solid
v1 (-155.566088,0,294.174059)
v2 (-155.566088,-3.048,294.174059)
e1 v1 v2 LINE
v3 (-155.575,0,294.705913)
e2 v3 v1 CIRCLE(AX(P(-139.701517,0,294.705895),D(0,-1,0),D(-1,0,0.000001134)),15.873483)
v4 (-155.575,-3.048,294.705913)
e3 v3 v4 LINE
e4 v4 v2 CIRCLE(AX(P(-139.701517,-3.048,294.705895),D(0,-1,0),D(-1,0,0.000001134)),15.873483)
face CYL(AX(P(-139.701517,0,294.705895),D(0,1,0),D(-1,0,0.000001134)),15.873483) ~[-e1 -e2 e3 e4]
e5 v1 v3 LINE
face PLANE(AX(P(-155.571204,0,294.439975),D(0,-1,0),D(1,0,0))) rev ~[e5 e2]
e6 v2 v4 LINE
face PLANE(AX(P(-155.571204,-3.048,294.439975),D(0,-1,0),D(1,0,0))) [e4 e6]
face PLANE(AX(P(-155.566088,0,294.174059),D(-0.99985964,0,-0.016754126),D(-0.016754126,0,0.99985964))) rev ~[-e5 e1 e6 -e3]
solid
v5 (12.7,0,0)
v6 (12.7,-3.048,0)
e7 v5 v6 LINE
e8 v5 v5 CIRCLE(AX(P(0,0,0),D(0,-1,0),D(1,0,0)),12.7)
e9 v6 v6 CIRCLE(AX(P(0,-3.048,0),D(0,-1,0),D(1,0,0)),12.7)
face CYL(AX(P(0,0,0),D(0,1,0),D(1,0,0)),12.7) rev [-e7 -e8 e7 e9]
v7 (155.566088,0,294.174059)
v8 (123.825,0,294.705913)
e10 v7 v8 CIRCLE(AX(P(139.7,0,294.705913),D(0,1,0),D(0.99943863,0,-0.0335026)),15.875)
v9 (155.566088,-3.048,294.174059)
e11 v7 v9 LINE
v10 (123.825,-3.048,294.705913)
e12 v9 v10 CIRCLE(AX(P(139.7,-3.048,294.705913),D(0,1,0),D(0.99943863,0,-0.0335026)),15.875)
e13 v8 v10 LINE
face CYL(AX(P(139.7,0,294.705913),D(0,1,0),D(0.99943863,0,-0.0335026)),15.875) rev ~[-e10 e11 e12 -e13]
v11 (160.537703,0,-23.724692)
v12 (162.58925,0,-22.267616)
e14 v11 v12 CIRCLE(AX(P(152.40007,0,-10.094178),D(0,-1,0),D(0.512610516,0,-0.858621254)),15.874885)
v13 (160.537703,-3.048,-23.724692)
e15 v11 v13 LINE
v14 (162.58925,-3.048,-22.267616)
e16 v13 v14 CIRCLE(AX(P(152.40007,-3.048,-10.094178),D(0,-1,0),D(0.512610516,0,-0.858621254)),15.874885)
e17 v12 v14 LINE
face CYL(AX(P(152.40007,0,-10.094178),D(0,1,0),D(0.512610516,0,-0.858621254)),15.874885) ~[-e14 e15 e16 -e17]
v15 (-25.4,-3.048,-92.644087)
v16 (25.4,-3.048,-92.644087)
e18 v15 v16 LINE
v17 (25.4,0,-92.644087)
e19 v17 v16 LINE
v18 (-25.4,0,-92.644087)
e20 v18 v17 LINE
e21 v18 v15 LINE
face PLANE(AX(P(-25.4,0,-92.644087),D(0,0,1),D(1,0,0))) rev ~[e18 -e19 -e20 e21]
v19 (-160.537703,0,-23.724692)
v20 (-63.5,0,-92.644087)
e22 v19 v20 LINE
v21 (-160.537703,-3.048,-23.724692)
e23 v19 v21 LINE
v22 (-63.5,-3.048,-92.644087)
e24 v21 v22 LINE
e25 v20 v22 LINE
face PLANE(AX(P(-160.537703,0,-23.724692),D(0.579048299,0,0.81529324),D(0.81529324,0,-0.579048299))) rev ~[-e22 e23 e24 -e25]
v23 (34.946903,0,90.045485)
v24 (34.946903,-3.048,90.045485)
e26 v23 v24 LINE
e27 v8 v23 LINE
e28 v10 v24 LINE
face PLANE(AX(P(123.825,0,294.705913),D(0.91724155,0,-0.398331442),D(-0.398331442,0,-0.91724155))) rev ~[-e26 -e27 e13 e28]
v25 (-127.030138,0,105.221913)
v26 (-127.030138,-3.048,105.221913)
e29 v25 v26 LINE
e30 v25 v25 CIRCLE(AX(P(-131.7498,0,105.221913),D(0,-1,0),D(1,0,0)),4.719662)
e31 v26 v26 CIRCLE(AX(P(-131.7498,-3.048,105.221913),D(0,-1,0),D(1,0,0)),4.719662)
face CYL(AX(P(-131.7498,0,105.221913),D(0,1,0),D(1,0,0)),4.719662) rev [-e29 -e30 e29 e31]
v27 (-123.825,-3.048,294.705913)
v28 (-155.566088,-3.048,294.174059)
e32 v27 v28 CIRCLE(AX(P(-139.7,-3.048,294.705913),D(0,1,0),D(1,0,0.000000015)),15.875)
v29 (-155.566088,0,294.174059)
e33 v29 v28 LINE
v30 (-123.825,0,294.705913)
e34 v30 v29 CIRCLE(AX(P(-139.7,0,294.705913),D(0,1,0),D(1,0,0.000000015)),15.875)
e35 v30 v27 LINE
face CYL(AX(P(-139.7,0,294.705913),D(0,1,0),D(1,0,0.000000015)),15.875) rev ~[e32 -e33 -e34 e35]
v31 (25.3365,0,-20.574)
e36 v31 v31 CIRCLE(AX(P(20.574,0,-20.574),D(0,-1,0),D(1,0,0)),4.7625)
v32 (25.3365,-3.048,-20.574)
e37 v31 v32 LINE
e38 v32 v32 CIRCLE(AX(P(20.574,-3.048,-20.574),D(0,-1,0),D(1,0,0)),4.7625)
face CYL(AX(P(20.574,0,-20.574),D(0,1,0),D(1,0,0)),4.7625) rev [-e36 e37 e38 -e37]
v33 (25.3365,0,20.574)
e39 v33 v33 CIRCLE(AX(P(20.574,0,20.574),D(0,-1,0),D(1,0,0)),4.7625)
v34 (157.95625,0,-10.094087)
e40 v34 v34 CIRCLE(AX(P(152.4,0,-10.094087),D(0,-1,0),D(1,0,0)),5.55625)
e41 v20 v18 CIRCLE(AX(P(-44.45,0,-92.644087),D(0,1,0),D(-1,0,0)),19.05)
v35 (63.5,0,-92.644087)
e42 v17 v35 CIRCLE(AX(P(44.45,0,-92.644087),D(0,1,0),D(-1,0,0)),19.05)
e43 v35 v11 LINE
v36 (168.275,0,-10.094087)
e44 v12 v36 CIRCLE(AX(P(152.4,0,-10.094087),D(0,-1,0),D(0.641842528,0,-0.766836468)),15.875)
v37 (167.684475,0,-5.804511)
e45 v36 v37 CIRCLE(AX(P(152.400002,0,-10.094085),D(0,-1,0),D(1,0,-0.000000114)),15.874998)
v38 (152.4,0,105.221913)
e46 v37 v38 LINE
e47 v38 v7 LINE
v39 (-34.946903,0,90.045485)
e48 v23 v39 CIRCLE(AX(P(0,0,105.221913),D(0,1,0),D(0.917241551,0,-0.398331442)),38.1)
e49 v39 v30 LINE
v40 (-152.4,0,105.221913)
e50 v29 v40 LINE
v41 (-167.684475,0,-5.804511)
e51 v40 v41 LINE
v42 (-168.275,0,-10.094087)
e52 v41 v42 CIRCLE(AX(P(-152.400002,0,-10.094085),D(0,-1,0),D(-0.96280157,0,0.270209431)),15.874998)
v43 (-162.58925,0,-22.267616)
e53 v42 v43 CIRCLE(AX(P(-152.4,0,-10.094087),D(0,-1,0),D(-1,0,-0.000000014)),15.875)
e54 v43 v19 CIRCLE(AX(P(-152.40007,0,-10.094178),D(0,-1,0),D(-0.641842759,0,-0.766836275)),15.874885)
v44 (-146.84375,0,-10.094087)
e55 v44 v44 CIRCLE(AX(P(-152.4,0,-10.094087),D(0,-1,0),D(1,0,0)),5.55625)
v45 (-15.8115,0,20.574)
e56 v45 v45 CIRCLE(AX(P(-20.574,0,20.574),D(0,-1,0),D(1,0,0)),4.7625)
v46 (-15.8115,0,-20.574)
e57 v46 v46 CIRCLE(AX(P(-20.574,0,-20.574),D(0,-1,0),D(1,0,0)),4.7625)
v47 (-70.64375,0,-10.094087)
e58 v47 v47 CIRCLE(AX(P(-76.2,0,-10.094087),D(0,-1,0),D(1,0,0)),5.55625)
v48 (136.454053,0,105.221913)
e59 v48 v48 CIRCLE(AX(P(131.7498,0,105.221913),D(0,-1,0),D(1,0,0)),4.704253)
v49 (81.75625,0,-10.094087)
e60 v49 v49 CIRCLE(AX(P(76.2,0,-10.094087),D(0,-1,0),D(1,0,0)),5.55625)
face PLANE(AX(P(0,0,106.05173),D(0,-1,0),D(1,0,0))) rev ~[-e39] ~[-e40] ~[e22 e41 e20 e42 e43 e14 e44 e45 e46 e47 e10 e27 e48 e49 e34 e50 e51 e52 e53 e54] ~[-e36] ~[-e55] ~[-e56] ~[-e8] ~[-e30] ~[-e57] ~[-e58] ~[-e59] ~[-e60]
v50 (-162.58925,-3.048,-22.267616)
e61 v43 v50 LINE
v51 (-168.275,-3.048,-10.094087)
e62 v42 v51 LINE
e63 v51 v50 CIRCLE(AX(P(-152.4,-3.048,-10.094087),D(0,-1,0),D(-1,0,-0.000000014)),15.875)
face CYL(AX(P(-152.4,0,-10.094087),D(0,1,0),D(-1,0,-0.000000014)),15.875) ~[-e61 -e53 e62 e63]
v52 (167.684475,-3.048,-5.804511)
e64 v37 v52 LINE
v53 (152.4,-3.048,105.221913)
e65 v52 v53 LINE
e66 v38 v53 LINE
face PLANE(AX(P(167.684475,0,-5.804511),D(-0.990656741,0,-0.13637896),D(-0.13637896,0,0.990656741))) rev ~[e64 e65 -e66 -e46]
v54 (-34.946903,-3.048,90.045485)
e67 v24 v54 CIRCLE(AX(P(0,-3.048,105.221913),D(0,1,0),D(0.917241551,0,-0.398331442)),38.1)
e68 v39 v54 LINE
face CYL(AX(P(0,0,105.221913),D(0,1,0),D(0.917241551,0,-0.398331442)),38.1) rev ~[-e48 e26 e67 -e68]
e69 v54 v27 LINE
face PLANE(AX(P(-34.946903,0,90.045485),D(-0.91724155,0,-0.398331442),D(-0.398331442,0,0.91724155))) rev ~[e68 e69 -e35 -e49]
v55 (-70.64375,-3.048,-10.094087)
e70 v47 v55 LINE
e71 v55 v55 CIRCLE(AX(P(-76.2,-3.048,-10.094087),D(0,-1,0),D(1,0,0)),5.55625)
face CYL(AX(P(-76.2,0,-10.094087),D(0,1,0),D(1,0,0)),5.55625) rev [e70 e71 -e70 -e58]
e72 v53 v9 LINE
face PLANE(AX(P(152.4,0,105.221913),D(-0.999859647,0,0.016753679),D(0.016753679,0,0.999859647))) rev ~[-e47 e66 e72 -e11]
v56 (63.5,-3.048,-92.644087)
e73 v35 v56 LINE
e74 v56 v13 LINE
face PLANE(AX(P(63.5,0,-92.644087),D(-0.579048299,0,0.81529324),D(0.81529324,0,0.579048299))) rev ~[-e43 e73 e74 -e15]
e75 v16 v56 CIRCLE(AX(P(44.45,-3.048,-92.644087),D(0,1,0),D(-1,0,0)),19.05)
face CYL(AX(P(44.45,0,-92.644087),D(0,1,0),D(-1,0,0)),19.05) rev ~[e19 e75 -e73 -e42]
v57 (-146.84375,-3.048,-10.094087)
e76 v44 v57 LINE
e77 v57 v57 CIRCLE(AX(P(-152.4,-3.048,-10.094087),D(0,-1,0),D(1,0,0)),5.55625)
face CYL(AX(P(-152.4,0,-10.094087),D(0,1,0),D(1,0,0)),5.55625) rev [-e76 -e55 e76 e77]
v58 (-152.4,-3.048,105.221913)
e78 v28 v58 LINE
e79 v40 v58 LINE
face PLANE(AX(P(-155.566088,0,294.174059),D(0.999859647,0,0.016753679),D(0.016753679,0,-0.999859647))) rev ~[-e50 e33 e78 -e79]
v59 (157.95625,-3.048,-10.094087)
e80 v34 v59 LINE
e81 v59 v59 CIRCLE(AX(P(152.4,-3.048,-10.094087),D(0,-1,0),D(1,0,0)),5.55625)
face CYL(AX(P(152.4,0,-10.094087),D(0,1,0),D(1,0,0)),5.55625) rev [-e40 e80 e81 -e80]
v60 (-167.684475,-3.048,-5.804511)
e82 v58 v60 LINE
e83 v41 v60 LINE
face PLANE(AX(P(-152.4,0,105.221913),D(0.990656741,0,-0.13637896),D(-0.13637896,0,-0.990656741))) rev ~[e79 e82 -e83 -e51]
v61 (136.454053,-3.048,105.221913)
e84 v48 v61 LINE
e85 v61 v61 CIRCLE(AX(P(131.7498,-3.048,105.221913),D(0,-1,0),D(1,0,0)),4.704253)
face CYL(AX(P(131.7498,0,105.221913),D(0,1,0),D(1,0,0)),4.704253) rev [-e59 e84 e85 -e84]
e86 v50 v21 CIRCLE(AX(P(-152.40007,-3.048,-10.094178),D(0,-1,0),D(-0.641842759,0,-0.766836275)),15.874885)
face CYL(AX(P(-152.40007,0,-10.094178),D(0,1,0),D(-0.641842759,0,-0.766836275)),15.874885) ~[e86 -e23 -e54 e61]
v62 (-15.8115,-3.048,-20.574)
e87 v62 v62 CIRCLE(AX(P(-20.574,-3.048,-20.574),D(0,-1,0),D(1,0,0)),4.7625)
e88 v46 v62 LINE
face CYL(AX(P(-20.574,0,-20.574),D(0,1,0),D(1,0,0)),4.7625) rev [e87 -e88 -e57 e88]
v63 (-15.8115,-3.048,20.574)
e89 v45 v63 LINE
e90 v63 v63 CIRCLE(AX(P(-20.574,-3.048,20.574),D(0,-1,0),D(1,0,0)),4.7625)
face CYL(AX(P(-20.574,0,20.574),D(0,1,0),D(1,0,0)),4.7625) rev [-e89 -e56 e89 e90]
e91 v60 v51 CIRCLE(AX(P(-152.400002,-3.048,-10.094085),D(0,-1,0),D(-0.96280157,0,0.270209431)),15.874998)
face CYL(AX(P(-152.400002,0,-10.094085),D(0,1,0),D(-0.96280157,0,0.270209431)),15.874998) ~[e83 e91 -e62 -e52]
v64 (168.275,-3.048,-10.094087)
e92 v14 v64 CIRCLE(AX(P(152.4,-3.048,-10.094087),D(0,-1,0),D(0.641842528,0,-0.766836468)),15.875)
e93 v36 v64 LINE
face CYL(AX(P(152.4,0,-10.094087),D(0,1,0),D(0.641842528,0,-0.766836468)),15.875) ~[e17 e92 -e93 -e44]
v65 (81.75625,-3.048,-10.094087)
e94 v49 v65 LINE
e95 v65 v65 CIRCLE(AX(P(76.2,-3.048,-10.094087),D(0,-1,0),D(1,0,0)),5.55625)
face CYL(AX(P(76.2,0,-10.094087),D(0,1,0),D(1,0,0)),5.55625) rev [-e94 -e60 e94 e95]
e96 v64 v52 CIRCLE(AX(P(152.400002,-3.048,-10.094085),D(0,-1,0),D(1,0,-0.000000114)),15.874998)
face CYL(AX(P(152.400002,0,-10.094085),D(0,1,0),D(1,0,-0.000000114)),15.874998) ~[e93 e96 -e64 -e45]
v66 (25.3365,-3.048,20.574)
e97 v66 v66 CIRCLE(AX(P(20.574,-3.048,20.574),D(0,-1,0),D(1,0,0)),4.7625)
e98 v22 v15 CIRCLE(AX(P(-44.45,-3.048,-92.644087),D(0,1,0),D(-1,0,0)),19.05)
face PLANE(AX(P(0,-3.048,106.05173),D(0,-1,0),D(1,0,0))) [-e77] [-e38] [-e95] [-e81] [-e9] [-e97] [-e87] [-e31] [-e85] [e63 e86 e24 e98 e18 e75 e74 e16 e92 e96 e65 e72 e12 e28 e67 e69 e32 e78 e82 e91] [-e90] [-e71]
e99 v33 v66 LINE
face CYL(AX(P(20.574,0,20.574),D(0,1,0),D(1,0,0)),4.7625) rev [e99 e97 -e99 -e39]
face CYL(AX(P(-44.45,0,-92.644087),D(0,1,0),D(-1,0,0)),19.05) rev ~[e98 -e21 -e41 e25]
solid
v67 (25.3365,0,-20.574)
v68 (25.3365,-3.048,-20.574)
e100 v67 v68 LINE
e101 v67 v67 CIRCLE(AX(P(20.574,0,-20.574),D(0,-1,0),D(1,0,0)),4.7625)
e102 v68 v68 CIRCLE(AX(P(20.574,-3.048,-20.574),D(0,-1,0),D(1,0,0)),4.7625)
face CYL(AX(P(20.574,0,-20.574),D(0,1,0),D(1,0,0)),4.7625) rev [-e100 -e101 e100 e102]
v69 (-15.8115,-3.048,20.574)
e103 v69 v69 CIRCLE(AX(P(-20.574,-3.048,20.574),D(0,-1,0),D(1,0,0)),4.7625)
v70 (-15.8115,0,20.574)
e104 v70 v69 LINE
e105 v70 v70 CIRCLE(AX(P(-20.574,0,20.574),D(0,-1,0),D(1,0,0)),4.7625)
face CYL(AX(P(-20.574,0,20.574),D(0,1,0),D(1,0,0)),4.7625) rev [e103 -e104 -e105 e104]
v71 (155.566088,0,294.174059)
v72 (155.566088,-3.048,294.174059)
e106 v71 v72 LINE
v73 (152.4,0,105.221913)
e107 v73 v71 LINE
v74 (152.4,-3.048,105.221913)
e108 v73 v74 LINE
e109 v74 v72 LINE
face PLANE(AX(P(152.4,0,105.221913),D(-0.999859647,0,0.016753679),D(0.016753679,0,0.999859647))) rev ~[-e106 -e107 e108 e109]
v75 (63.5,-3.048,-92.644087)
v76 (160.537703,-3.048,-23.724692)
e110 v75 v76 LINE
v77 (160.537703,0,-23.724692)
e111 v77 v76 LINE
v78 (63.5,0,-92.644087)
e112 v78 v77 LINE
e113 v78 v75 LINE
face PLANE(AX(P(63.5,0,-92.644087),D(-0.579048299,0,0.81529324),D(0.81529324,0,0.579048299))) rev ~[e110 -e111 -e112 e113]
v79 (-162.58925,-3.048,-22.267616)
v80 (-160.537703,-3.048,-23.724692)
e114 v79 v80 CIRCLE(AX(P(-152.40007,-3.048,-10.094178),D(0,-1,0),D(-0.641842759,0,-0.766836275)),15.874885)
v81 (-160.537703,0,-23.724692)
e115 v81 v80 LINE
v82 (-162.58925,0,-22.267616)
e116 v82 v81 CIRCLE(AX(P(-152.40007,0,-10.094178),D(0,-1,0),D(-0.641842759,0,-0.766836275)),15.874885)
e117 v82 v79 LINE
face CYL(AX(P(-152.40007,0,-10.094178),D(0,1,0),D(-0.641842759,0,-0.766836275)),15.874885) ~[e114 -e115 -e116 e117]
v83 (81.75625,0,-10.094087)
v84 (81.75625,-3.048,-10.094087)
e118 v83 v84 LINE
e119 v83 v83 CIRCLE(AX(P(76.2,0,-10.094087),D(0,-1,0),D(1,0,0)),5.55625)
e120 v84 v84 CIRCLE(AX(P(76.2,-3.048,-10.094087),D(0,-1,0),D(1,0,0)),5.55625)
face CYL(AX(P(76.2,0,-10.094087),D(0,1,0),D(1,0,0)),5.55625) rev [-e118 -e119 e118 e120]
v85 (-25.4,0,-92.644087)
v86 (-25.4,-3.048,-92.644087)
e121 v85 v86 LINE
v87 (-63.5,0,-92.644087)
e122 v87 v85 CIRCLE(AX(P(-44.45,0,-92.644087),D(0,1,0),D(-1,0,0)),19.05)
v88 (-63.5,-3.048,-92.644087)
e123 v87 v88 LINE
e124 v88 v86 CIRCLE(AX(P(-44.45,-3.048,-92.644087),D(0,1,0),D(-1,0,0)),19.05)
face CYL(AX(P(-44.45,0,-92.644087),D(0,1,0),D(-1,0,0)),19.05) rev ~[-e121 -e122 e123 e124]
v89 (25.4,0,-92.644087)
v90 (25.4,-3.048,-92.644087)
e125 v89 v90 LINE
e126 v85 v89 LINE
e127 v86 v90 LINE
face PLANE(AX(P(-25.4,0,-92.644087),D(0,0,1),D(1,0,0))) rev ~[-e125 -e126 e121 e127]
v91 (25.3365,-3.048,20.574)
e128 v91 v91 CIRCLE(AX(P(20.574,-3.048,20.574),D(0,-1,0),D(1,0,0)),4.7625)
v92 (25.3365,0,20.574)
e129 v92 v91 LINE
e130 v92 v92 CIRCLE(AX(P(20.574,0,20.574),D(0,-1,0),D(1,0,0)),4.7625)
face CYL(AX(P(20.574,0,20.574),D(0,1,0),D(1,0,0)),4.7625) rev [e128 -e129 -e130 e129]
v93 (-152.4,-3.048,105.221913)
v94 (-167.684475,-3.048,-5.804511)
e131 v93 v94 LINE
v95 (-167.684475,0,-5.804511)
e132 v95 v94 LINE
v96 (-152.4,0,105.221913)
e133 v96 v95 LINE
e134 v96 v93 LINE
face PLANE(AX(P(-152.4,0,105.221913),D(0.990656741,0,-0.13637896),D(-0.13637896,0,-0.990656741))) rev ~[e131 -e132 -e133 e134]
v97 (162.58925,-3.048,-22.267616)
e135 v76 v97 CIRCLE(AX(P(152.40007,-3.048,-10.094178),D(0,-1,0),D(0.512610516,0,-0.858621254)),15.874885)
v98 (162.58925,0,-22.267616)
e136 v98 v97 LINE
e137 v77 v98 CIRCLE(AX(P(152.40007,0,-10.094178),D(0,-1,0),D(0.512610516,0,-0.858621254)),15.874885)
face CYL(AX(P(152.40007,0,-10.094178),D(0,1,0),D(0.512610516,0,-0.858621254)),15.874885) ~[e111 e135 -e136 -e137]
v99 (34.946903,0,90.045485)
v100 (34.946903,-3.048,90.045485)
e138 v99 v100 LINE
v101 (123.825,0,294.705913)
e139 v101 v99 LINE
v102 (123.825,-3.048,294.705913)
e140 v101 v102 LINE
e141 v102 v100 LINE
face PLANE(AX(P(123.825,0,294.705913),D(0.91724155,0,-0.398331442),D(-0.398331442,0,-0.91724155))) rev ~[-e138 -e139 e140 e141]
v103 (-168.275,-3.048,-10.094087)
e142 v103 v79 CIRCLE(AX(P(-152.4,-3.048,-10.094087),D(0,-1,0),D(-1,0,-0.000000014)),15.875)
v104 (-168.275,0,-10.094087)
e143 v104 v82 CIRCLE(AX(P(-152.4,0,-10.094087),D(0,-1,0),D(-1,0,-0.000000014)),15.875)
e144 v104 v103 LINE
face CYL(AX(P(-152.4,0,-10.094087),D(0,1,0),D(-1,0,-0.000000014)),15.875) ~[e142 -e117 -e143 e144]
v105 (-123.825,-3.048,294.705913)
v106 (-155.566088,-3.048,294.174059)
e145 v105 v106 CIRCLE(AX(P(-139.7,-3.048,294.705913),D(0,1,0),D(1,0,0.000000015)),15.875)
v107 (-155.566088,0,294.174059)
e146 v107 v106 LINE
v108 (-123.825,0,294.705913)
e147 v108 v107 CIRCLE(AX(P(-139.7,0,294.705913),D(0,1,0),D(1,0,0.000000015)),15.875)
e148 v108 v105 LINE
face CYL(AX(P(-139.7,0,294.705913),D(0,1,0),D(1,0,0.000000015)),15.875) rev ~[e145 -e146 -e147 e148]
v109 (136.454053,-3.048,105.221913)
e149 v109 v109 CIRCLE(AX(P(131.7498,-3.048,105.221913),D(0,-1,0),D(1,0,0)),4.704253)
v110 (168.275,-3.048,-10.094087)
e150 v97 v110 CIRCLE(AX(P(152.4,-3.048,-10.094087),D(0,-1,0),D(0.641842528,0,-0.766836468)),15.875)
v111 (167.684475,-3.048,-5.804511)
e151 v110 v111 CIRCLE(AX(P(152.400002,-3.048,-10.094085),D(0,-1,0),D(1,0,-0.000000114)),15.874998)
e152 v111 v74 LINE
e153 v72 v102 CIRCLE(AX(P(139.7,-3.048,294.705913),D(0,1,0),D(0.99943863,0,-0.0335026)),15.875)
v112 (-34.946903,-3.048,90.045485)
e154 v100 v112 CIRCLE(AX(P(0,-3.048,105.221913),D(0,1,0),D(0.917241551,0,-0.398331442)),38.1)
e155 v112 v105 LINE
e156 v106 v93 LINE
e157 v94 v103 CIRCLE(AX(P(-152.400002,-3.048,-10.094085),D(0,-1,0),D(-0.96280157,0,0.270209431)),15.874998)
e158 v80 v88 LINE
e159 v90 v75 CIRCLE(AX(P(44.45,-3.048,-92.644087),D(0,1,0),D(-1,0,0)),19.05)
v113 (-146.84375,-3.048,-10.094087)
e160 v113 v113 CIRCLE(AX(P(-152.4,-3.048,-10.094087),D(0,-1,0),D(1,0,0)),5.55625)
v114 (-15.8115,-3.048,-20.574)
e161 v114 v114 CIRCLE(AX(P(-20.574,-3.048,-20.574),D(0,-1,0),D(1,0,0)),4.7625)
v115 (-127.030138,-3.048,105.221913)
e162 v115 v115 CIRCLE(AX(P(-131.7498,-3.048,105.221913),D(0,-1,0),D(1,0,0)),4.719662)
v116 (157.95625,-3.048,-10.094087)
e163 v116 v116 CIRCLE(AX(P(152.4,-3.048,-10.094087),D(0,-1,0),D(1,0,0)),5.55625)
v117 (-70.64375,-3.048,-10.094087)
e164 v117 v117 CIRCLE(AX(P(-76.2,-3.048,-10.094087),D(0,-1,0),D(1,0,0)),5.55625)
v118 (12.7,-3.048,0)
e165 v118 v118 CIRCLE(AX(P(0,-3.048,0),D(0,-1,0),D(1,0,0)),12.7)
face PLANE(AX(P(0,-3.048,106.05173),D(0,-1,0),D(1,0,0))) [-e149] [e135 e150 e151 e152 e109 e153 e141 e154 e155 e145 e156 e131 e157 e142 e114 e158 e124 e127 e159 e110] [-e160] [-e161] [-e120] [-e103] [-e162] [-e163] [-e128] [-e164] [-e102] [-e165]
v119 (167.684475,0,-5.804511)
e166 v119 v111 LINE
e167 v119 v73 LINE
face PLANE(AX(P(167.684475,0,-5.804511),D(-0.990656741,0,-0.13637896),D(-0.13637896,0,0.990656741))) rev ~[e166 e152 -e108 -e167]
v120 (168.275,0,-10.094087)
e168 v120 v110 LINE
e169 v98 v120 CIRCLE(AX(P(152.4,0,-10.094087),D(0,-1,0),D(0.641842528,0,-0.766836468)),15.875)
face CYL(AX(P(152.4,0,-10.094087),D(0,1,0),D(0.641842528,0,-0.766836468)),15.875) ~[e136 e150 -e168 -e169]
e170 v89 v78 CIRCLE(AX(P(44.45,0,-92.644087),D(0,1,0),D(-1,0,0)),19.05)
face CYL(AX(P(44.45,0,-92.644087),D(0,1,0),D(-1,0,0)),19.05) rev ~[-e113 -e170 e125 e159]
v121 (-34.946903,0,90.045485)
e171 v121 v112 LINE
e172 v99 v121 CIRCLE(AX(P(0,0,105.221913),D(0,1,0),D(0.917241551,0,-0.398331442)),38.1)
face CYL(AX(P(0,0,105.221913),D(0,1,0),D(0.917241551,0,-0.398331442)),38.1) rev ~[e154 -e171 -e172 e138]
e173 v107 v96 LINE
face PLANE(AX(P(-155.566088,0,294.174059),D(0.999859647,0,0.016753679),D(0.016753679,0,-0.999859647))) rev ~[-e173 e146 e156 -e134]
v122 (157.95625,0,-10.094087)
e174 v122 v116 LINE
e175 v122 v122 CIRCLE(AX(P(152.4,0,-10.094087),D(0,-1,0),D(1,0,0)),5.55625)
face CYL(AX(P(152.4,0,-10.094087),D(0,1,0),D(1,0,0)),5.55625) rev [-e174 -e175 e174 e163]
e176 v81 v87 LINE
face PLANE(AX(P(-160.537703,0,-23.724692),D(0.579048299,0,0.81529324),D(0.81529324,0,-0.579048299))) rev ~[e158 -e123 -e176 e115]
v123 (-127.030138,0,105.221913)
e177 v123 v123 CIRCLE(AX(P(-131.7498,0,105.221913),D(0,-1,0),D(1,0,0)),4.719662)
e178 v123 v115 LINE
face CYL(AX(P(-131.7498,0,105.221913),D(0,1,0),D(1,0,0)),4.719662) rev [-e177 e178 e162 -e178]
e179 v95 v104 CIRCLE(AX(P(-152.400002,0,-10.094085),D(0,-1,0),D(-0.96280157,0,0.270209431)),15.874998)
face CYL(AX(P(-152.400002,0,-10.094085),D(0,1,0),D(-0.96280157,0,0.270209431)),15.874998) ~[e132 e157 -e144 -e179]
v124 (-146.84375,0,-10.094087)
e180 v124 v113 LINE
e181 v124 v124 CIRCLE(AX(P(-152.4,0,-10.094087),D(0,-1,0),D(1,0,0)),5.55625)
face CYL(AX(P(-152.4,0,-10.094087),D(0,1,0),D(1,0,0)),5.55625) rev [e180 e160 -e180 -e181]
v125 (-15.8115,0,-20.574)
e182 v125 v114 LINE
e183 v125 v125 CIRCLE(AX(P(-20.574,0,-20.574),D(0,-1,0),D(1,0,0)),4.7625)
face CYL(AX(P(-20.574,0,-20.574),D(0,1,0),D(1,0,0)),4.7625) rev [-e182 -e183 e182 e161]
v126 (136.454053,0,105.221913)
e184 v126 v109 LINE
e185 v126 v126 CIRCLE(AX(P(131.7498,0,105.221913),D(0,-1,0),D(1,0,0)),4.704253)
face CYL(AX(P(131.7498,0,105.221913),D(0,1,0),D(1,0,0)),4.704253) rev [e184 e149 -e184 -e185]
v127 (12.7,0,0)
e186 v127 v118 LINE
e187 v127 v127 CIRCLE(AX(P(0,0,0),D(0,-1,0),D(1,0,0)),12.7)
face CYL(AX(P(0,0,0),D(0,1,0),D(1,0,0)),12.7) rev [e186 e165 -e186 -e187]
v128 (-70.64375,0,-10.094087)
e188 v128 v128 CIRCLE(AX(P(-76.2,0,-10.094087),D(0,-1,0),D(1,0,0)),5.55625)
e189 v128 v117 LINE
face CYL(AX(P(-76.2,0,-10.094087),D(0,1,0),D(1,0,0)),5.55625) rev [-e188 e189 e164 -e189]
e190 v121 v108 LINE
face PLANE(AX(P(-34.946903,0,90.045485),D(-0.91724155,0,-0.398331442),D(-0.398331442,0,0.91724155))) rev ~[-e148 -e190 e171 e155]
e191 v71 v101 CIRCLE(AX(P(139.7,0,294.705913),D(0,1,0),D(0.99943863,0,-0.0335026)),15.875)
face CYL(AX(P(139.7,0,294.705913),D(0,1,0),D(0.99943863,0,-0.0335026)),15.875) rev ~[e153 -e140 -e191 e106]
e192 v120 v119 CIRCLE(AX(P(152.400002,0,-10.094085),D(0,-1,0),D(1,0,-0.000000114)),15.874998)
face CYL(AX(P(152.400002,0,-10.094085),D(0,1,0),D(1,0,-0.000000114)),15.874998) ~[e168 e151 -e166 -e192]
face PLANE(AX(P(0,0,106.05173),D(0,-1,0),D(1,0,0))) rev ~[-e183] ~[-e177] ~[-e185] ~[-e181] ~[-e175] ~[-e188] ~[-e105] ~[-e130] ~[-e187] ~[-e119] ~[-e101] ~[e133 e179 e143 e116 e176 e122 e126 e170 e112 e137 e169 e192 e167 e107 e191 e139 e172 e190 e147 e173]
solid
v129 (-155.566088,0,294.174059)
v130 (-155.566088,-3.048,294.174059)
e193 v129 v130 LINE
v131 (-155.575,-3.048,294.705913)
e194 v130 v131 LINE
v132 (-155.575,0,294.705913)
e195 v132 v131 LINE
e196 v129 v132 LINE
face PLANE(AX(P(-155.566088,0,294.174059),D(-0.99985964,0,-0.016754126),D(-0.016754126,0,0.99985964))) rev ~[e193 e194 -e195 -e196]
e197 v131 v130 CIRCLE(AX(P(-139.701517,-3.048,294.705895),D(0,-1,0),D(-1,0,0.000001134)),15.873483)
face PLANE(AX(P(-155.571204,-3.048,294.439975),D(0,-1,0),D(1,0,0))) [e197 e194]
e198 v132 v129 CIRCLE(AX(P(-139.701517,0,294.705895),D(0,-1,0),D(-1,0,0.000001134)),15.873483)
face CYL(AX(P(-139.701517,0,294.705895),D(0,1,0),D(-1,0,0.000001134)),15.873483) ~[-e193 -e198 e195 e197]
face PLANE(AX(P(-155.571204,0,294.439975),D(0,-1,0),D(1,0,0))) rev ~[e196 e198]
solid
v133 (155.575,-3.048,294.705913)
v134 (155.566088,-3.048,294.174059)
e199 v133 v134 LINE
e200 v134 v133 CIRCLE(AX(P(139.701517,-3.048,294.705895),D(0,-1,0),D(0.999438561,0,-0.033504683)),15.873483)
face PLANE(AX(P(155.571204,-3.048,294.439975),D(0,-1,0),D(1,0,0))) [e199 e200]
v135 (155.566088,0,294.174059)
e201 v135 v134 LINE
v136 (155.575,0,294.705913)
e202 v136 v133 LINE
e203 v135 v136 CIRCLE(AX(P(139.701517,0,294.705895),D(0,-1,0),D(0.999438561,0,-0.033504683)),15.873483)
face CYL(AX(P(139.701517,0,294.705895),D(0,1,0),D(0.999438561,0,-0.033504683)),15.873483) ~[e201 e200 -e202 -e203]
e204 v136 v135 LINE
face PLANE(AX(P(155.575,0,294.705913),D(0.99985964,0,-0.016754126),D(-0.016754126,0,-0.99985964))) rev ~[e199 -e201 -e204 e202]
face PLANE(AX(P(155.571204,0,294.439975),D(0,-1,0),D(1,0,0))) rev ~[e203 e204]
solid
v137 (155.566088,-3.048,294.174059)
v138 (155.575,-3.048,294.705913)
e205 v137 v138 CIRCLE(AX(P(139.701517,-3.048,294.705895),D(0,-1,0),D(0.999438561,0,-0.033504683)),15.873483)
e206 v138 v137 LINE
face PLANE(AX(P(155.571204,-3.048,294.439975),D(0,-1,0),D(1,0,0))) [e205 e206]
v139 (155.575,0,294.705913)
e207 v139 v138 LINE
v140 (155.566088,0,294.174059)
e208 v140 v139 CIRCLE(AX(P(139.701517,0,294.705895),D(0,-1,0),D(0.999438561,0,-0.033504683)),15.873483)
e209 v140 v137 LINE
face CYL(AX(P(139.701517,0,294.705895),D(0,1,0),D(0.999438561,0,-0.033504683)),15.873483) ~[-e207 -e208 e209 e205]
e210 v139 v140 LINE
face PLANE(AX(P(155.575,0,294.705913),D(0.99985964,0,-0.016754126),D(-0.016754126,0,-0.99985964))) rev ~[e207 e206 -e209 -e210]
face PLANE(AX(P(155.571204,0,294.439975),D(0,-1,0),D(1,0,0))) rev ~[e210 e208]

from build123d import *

# Parameters (mm, degrees)
F0_R     = 5.55625
F0_R_2   = 4.7625
F0_R_3   = 12.7
F0_R_4   = 4.719662
F0_R_5   = 4.704253
F1_DEPTH = 3.048
F2_DEPTH = 3.048


with BuildPart() as f1:
    # F0 (on Front) → F1 (new body)
    with BuildSketch(Plane.XZ):
        with BuildLine():
            ThreePointArc((-155.575, 294.705913), (-155.572772, 294.439949), (-155.566088, 294.174059))
            Line((-155.566088, 294.174059), (-155.575, 294.705913))
        make_face()
        with BuildLine():
            Line((155.575, 294.705913), (155.566088, 294.174059))
            ThreePointArc((155.566088, 294.174059), (155.572772, 294.439949), (155.575, 294.705913))
        make_face()
        with BuildLine():
            ThreePointArc((-63.5, -92.644087), (-44.45, -73.594087), (-25.4, -92.644087))
            Line((-25.4, -92.644087), (25.4, -92.644087))
            ThreePointArc((25.4, -92.644087), (44.45, -73.594087), (63.5, -92.644087))
            Line((63.5, -92.644087), (160.537703, -23.724692))
            Line((160.537703, -23.724692), (162.58925, -22.267616))
            ThreePointArc((162.58925, -22.267616), (166.783497, -16.812021), (168.275, -10.094087))
            Line((168.275, -10.094087), (167.684475, -5.804511))
            Line((167.684475, -5.804511), (152.4, 105.221913))
            Line((152.4, 105.221913), (155.566088, 294.174059))
            ThreePointArc((155.566088, 294.174059), (139.434035, 278.833141), (123.825, 294.705913))
            Line((123.825, 294.705913), (34.946903, 90.045485))
            ThreePointArc((34.946903, 90.045485), (0, 67.121913), (-34.946903, 90.045485))
            Line((-34.946903, 90.045485), (-123.825, 294.705913))
            ThreePointArc((-123.825, 294.705913), (-139.434035, 278.833141), (-155.566088, 294.174059))
            Line((-155.566088, 294.174059), (-152.4, 105.221913))
            Line((-152.4, 105.221913), (-167.684475, -5.804511))
            Line((-167.684475, -5.804511), (-168.275, -10.094087))
            ThreePointArc((-168.275, -10.094087), (-166.783497, -16.812021), (-162.58925, -22.267616))
            Line((-162.58925, -22.267616), (-160.537703, -23.724692))
            Line((-160.537703, -23.724692), (-63.5, -92.644087))
        make_face()
        with Locations((-152.4, -10.094087)):
            Circle(F0_R, mode=Mode.SUBTRACT)
        with Locations((-76.2, -10.094087)):
            Circle(F0_R, mode=Mode.SUBTRACT)
        with Locations((-20.574, -20.574)):
            Circle(F0_R_2, mode=Mode.SUBTRACT)
        with Locations((-20.574, 20.574)):
            Circle(F0_R_2, mode=Mode.SUBTRACT)
        with Locations((20.574, -20.574)):
            Circle(F0_R_2, mode=Mode.SUBTRACT)
        Circle(F0_R_3, mode=Mode.SUBTRACT)
        with Locations((76.2, -10.094087)):
            Circle(F0_R, mode=Mode.SUBTRACT)
        with Locations((152.4, -10.094087)):
            Circle(F0_R, mode=Mode.SUBTRACT)
        with Locations((20.574, 20.574)):
            Circle(F0_R_2, mode=Mode.SUBTRACT)
        with Locations((-131.7498, 105.221913)):
            Circle(F0_R_4, mode=Mode.SUBTRACT)
        with Locations((131.7498, 105.221913)):
            Circle(F0_R_5, mode=Mode.SUBTRACT)
        with BuildLine():
            ThreePointArc((-162.58925, -22.267616), (-161.592392, -23.036867), (-160.537703, -23.724692))
            Line((-160.537703, -23.724692), (-162.58925, -22.267616))
        make_face()
        with BuildLine():
            Line((162.58925, -22.267616), (160.537703, -23.724692))
            ThreePointArc((160.537703, -23.724692), (161.592392, -23.036867), (162.58925, -22.267616))
        make_face()
        with BuildLine():
            ThreePointArc((-167.684475, -5.804511), (-168.126676, -7.929071), (-168.275, -10.094087))
            Line((-168.275, -10.094087), (-167.684475, -5.804511))
        make_face()
        with BuildLine():
            Line((167.684475, -5.804511), (168.275, -10.094087))
            ThreePointArc((168.275, -10.094087), (168.126676, -7.929071), (167.684475, -5.804511))
        make_face()
    extrude(amount=F1_DEPTH)


with BuildPart() as f2:
    # F0 (on Front) → F2 (new body)
    with BuildSketch(Plane.XZ):
        with BuildLine():
            ThreePointArc((-155.575, 294.705913), (-155.572772, 294.439949), (-155.566088, 294.174059))
            Line((-155.566088, 294.174059), (-155.575, 294.705913))
        make_face()
        with BuildLine():
            Line((155.575, 294.705913), (155.566088, 294.174059))
            ThreePointArc((155.566088, 294.174059), (155.572772, 294.439949), (155.575, 294.705913))
        make_face()
        with BuildLine():
            ThreePointArc((-63.5, -92.644087), (-44.45, -73.594087), (-25.4, -92.644087))
            Line((-25.4, -92.644087), (25.4, -92.644087))
            ThreePointArc((25.4, -92.644087), (44.45, -73.594087), (63.5, -92.644087))
            Line((63.5, -92.644087), (160.537703, -23.724692))
            Line((160.537703, -23.724692), (162.58925, -22.267616))
            ThreePointArc((162.58925, -22.267616), (166.783497, -16.812021), (168.275, -10.094087))
            Line((168.275, -10.094087), (167.684475, -5.804511))
            Line((167.684475, -5.804511), (152.4, 105.221913))
            Line((152.4, 105.221913), (155.566088, 294.174059))
            ThreePointArc((155.566088, 294.174059), (139.434035, 278.833141), (123.825, 294.705913))
            Line((123.825, 294.705913), (34.946903, 90.045485))
            ThreePointArc((34.946903, 90.045485), (0, 67.121913), (-34.946903, 90.045485))
            Line((-34.946903, 90.045485), (-123.825, 294.705913))
            ThreePointArc((-123.825, 294.705913), (-139.434035, 278.833141), (-155.566088, 294.174059))
            Line((-155.566088, 294.174059), (-152.4, 105.221913))
            Line((-152.4, 105.221913), (-167.684475, -5.804511))
            Line((-167.684475, -5.804511), (-168.275, -10.094087))
            ThreePointArc((-168.275, -10.094087), (-166.783497, -16.812021), (-162.58925, -22.267616))
            Line((-162.58925, -22.267616), (-160.537703, -23.724692))
            Line((-160.537703, -23.724692), (-63.5, -92.644087))
        make_face()
        with Locations((-152.4, -10.094087)):
            Circle(F0_R, mode=Mode.SUBTRACT)
        with Locations((-76.2, -10.094087)):
            Circle(F0_R, mode=Mode.SUBTRACT)
        with Locations((-20.574, -20.574)):
            Circle(F0_R_2, mode=Mode.SUBTRACT)
        with Locations((-20.574, 20.574)):
            Circle(F0_R_2, mode=Mode.SUBTRACT)
        with Locations((20.574, -20.574)):
            Circle(F0_R_2, mode=Mode.SUBTRACT)
        Circle(F0_R_3, mode=Mode.SUBTRACT)
        with Locations((76.2, -10.094087)):
            Circle(F0_R, mode=Mode.SUBTRACT)
        with Locations((152.4, -10.094087)):
            Circle(F0_R, mode=Mode.SUBTRACT)
        with Locations((20.574, 20.574)):
            Circle(F0_R_2, mode=Mode.SUBTRACT)
        with Locations((-131.7498, 105.221913)):
            Circle(F0_R_4, mode=Mode.SUBTRACT)
        with Locations((131.7498, 105.221913)):
            Circle(F0_R_5, mode=Mode.SUBTRACT)
        with BuildLine():
            ThreePointArc((-162.58925, -22.267616), (-161.592392, -23.036867), (-160.537703, -23.724692))
            Line((-160.537703, -23.724692), (-162.58925, -22.267616))
        make_face()
        with BuildLine():
            Line((162.58925, -22.267616), (160.537703, -23.724692))
            ThreePointArc((160.537703, -23.724692), (161.592392, -23.036867), (162.58925, -22.267616))
        make_face()
        with BuildLine():
            ThreePointArc((-167.684475, -5.804511), (-168.126676, -7.929071), (-168.275, -10.094087))
            Line((-168.275, -10.094087), (-167.684475, -5.804511))
        make_face()
        with BuildLine():
            Line((167.684475, -5.804511), (168.275, -10.094087))
            ThreePointArc((168.275, -10.094087), (168.126676, -7.929071), (167.684475, -5.804511))
        make_face()
    extrude(amount=F2_DEPTH)


solid = Compound([f1.part, f2.part])
